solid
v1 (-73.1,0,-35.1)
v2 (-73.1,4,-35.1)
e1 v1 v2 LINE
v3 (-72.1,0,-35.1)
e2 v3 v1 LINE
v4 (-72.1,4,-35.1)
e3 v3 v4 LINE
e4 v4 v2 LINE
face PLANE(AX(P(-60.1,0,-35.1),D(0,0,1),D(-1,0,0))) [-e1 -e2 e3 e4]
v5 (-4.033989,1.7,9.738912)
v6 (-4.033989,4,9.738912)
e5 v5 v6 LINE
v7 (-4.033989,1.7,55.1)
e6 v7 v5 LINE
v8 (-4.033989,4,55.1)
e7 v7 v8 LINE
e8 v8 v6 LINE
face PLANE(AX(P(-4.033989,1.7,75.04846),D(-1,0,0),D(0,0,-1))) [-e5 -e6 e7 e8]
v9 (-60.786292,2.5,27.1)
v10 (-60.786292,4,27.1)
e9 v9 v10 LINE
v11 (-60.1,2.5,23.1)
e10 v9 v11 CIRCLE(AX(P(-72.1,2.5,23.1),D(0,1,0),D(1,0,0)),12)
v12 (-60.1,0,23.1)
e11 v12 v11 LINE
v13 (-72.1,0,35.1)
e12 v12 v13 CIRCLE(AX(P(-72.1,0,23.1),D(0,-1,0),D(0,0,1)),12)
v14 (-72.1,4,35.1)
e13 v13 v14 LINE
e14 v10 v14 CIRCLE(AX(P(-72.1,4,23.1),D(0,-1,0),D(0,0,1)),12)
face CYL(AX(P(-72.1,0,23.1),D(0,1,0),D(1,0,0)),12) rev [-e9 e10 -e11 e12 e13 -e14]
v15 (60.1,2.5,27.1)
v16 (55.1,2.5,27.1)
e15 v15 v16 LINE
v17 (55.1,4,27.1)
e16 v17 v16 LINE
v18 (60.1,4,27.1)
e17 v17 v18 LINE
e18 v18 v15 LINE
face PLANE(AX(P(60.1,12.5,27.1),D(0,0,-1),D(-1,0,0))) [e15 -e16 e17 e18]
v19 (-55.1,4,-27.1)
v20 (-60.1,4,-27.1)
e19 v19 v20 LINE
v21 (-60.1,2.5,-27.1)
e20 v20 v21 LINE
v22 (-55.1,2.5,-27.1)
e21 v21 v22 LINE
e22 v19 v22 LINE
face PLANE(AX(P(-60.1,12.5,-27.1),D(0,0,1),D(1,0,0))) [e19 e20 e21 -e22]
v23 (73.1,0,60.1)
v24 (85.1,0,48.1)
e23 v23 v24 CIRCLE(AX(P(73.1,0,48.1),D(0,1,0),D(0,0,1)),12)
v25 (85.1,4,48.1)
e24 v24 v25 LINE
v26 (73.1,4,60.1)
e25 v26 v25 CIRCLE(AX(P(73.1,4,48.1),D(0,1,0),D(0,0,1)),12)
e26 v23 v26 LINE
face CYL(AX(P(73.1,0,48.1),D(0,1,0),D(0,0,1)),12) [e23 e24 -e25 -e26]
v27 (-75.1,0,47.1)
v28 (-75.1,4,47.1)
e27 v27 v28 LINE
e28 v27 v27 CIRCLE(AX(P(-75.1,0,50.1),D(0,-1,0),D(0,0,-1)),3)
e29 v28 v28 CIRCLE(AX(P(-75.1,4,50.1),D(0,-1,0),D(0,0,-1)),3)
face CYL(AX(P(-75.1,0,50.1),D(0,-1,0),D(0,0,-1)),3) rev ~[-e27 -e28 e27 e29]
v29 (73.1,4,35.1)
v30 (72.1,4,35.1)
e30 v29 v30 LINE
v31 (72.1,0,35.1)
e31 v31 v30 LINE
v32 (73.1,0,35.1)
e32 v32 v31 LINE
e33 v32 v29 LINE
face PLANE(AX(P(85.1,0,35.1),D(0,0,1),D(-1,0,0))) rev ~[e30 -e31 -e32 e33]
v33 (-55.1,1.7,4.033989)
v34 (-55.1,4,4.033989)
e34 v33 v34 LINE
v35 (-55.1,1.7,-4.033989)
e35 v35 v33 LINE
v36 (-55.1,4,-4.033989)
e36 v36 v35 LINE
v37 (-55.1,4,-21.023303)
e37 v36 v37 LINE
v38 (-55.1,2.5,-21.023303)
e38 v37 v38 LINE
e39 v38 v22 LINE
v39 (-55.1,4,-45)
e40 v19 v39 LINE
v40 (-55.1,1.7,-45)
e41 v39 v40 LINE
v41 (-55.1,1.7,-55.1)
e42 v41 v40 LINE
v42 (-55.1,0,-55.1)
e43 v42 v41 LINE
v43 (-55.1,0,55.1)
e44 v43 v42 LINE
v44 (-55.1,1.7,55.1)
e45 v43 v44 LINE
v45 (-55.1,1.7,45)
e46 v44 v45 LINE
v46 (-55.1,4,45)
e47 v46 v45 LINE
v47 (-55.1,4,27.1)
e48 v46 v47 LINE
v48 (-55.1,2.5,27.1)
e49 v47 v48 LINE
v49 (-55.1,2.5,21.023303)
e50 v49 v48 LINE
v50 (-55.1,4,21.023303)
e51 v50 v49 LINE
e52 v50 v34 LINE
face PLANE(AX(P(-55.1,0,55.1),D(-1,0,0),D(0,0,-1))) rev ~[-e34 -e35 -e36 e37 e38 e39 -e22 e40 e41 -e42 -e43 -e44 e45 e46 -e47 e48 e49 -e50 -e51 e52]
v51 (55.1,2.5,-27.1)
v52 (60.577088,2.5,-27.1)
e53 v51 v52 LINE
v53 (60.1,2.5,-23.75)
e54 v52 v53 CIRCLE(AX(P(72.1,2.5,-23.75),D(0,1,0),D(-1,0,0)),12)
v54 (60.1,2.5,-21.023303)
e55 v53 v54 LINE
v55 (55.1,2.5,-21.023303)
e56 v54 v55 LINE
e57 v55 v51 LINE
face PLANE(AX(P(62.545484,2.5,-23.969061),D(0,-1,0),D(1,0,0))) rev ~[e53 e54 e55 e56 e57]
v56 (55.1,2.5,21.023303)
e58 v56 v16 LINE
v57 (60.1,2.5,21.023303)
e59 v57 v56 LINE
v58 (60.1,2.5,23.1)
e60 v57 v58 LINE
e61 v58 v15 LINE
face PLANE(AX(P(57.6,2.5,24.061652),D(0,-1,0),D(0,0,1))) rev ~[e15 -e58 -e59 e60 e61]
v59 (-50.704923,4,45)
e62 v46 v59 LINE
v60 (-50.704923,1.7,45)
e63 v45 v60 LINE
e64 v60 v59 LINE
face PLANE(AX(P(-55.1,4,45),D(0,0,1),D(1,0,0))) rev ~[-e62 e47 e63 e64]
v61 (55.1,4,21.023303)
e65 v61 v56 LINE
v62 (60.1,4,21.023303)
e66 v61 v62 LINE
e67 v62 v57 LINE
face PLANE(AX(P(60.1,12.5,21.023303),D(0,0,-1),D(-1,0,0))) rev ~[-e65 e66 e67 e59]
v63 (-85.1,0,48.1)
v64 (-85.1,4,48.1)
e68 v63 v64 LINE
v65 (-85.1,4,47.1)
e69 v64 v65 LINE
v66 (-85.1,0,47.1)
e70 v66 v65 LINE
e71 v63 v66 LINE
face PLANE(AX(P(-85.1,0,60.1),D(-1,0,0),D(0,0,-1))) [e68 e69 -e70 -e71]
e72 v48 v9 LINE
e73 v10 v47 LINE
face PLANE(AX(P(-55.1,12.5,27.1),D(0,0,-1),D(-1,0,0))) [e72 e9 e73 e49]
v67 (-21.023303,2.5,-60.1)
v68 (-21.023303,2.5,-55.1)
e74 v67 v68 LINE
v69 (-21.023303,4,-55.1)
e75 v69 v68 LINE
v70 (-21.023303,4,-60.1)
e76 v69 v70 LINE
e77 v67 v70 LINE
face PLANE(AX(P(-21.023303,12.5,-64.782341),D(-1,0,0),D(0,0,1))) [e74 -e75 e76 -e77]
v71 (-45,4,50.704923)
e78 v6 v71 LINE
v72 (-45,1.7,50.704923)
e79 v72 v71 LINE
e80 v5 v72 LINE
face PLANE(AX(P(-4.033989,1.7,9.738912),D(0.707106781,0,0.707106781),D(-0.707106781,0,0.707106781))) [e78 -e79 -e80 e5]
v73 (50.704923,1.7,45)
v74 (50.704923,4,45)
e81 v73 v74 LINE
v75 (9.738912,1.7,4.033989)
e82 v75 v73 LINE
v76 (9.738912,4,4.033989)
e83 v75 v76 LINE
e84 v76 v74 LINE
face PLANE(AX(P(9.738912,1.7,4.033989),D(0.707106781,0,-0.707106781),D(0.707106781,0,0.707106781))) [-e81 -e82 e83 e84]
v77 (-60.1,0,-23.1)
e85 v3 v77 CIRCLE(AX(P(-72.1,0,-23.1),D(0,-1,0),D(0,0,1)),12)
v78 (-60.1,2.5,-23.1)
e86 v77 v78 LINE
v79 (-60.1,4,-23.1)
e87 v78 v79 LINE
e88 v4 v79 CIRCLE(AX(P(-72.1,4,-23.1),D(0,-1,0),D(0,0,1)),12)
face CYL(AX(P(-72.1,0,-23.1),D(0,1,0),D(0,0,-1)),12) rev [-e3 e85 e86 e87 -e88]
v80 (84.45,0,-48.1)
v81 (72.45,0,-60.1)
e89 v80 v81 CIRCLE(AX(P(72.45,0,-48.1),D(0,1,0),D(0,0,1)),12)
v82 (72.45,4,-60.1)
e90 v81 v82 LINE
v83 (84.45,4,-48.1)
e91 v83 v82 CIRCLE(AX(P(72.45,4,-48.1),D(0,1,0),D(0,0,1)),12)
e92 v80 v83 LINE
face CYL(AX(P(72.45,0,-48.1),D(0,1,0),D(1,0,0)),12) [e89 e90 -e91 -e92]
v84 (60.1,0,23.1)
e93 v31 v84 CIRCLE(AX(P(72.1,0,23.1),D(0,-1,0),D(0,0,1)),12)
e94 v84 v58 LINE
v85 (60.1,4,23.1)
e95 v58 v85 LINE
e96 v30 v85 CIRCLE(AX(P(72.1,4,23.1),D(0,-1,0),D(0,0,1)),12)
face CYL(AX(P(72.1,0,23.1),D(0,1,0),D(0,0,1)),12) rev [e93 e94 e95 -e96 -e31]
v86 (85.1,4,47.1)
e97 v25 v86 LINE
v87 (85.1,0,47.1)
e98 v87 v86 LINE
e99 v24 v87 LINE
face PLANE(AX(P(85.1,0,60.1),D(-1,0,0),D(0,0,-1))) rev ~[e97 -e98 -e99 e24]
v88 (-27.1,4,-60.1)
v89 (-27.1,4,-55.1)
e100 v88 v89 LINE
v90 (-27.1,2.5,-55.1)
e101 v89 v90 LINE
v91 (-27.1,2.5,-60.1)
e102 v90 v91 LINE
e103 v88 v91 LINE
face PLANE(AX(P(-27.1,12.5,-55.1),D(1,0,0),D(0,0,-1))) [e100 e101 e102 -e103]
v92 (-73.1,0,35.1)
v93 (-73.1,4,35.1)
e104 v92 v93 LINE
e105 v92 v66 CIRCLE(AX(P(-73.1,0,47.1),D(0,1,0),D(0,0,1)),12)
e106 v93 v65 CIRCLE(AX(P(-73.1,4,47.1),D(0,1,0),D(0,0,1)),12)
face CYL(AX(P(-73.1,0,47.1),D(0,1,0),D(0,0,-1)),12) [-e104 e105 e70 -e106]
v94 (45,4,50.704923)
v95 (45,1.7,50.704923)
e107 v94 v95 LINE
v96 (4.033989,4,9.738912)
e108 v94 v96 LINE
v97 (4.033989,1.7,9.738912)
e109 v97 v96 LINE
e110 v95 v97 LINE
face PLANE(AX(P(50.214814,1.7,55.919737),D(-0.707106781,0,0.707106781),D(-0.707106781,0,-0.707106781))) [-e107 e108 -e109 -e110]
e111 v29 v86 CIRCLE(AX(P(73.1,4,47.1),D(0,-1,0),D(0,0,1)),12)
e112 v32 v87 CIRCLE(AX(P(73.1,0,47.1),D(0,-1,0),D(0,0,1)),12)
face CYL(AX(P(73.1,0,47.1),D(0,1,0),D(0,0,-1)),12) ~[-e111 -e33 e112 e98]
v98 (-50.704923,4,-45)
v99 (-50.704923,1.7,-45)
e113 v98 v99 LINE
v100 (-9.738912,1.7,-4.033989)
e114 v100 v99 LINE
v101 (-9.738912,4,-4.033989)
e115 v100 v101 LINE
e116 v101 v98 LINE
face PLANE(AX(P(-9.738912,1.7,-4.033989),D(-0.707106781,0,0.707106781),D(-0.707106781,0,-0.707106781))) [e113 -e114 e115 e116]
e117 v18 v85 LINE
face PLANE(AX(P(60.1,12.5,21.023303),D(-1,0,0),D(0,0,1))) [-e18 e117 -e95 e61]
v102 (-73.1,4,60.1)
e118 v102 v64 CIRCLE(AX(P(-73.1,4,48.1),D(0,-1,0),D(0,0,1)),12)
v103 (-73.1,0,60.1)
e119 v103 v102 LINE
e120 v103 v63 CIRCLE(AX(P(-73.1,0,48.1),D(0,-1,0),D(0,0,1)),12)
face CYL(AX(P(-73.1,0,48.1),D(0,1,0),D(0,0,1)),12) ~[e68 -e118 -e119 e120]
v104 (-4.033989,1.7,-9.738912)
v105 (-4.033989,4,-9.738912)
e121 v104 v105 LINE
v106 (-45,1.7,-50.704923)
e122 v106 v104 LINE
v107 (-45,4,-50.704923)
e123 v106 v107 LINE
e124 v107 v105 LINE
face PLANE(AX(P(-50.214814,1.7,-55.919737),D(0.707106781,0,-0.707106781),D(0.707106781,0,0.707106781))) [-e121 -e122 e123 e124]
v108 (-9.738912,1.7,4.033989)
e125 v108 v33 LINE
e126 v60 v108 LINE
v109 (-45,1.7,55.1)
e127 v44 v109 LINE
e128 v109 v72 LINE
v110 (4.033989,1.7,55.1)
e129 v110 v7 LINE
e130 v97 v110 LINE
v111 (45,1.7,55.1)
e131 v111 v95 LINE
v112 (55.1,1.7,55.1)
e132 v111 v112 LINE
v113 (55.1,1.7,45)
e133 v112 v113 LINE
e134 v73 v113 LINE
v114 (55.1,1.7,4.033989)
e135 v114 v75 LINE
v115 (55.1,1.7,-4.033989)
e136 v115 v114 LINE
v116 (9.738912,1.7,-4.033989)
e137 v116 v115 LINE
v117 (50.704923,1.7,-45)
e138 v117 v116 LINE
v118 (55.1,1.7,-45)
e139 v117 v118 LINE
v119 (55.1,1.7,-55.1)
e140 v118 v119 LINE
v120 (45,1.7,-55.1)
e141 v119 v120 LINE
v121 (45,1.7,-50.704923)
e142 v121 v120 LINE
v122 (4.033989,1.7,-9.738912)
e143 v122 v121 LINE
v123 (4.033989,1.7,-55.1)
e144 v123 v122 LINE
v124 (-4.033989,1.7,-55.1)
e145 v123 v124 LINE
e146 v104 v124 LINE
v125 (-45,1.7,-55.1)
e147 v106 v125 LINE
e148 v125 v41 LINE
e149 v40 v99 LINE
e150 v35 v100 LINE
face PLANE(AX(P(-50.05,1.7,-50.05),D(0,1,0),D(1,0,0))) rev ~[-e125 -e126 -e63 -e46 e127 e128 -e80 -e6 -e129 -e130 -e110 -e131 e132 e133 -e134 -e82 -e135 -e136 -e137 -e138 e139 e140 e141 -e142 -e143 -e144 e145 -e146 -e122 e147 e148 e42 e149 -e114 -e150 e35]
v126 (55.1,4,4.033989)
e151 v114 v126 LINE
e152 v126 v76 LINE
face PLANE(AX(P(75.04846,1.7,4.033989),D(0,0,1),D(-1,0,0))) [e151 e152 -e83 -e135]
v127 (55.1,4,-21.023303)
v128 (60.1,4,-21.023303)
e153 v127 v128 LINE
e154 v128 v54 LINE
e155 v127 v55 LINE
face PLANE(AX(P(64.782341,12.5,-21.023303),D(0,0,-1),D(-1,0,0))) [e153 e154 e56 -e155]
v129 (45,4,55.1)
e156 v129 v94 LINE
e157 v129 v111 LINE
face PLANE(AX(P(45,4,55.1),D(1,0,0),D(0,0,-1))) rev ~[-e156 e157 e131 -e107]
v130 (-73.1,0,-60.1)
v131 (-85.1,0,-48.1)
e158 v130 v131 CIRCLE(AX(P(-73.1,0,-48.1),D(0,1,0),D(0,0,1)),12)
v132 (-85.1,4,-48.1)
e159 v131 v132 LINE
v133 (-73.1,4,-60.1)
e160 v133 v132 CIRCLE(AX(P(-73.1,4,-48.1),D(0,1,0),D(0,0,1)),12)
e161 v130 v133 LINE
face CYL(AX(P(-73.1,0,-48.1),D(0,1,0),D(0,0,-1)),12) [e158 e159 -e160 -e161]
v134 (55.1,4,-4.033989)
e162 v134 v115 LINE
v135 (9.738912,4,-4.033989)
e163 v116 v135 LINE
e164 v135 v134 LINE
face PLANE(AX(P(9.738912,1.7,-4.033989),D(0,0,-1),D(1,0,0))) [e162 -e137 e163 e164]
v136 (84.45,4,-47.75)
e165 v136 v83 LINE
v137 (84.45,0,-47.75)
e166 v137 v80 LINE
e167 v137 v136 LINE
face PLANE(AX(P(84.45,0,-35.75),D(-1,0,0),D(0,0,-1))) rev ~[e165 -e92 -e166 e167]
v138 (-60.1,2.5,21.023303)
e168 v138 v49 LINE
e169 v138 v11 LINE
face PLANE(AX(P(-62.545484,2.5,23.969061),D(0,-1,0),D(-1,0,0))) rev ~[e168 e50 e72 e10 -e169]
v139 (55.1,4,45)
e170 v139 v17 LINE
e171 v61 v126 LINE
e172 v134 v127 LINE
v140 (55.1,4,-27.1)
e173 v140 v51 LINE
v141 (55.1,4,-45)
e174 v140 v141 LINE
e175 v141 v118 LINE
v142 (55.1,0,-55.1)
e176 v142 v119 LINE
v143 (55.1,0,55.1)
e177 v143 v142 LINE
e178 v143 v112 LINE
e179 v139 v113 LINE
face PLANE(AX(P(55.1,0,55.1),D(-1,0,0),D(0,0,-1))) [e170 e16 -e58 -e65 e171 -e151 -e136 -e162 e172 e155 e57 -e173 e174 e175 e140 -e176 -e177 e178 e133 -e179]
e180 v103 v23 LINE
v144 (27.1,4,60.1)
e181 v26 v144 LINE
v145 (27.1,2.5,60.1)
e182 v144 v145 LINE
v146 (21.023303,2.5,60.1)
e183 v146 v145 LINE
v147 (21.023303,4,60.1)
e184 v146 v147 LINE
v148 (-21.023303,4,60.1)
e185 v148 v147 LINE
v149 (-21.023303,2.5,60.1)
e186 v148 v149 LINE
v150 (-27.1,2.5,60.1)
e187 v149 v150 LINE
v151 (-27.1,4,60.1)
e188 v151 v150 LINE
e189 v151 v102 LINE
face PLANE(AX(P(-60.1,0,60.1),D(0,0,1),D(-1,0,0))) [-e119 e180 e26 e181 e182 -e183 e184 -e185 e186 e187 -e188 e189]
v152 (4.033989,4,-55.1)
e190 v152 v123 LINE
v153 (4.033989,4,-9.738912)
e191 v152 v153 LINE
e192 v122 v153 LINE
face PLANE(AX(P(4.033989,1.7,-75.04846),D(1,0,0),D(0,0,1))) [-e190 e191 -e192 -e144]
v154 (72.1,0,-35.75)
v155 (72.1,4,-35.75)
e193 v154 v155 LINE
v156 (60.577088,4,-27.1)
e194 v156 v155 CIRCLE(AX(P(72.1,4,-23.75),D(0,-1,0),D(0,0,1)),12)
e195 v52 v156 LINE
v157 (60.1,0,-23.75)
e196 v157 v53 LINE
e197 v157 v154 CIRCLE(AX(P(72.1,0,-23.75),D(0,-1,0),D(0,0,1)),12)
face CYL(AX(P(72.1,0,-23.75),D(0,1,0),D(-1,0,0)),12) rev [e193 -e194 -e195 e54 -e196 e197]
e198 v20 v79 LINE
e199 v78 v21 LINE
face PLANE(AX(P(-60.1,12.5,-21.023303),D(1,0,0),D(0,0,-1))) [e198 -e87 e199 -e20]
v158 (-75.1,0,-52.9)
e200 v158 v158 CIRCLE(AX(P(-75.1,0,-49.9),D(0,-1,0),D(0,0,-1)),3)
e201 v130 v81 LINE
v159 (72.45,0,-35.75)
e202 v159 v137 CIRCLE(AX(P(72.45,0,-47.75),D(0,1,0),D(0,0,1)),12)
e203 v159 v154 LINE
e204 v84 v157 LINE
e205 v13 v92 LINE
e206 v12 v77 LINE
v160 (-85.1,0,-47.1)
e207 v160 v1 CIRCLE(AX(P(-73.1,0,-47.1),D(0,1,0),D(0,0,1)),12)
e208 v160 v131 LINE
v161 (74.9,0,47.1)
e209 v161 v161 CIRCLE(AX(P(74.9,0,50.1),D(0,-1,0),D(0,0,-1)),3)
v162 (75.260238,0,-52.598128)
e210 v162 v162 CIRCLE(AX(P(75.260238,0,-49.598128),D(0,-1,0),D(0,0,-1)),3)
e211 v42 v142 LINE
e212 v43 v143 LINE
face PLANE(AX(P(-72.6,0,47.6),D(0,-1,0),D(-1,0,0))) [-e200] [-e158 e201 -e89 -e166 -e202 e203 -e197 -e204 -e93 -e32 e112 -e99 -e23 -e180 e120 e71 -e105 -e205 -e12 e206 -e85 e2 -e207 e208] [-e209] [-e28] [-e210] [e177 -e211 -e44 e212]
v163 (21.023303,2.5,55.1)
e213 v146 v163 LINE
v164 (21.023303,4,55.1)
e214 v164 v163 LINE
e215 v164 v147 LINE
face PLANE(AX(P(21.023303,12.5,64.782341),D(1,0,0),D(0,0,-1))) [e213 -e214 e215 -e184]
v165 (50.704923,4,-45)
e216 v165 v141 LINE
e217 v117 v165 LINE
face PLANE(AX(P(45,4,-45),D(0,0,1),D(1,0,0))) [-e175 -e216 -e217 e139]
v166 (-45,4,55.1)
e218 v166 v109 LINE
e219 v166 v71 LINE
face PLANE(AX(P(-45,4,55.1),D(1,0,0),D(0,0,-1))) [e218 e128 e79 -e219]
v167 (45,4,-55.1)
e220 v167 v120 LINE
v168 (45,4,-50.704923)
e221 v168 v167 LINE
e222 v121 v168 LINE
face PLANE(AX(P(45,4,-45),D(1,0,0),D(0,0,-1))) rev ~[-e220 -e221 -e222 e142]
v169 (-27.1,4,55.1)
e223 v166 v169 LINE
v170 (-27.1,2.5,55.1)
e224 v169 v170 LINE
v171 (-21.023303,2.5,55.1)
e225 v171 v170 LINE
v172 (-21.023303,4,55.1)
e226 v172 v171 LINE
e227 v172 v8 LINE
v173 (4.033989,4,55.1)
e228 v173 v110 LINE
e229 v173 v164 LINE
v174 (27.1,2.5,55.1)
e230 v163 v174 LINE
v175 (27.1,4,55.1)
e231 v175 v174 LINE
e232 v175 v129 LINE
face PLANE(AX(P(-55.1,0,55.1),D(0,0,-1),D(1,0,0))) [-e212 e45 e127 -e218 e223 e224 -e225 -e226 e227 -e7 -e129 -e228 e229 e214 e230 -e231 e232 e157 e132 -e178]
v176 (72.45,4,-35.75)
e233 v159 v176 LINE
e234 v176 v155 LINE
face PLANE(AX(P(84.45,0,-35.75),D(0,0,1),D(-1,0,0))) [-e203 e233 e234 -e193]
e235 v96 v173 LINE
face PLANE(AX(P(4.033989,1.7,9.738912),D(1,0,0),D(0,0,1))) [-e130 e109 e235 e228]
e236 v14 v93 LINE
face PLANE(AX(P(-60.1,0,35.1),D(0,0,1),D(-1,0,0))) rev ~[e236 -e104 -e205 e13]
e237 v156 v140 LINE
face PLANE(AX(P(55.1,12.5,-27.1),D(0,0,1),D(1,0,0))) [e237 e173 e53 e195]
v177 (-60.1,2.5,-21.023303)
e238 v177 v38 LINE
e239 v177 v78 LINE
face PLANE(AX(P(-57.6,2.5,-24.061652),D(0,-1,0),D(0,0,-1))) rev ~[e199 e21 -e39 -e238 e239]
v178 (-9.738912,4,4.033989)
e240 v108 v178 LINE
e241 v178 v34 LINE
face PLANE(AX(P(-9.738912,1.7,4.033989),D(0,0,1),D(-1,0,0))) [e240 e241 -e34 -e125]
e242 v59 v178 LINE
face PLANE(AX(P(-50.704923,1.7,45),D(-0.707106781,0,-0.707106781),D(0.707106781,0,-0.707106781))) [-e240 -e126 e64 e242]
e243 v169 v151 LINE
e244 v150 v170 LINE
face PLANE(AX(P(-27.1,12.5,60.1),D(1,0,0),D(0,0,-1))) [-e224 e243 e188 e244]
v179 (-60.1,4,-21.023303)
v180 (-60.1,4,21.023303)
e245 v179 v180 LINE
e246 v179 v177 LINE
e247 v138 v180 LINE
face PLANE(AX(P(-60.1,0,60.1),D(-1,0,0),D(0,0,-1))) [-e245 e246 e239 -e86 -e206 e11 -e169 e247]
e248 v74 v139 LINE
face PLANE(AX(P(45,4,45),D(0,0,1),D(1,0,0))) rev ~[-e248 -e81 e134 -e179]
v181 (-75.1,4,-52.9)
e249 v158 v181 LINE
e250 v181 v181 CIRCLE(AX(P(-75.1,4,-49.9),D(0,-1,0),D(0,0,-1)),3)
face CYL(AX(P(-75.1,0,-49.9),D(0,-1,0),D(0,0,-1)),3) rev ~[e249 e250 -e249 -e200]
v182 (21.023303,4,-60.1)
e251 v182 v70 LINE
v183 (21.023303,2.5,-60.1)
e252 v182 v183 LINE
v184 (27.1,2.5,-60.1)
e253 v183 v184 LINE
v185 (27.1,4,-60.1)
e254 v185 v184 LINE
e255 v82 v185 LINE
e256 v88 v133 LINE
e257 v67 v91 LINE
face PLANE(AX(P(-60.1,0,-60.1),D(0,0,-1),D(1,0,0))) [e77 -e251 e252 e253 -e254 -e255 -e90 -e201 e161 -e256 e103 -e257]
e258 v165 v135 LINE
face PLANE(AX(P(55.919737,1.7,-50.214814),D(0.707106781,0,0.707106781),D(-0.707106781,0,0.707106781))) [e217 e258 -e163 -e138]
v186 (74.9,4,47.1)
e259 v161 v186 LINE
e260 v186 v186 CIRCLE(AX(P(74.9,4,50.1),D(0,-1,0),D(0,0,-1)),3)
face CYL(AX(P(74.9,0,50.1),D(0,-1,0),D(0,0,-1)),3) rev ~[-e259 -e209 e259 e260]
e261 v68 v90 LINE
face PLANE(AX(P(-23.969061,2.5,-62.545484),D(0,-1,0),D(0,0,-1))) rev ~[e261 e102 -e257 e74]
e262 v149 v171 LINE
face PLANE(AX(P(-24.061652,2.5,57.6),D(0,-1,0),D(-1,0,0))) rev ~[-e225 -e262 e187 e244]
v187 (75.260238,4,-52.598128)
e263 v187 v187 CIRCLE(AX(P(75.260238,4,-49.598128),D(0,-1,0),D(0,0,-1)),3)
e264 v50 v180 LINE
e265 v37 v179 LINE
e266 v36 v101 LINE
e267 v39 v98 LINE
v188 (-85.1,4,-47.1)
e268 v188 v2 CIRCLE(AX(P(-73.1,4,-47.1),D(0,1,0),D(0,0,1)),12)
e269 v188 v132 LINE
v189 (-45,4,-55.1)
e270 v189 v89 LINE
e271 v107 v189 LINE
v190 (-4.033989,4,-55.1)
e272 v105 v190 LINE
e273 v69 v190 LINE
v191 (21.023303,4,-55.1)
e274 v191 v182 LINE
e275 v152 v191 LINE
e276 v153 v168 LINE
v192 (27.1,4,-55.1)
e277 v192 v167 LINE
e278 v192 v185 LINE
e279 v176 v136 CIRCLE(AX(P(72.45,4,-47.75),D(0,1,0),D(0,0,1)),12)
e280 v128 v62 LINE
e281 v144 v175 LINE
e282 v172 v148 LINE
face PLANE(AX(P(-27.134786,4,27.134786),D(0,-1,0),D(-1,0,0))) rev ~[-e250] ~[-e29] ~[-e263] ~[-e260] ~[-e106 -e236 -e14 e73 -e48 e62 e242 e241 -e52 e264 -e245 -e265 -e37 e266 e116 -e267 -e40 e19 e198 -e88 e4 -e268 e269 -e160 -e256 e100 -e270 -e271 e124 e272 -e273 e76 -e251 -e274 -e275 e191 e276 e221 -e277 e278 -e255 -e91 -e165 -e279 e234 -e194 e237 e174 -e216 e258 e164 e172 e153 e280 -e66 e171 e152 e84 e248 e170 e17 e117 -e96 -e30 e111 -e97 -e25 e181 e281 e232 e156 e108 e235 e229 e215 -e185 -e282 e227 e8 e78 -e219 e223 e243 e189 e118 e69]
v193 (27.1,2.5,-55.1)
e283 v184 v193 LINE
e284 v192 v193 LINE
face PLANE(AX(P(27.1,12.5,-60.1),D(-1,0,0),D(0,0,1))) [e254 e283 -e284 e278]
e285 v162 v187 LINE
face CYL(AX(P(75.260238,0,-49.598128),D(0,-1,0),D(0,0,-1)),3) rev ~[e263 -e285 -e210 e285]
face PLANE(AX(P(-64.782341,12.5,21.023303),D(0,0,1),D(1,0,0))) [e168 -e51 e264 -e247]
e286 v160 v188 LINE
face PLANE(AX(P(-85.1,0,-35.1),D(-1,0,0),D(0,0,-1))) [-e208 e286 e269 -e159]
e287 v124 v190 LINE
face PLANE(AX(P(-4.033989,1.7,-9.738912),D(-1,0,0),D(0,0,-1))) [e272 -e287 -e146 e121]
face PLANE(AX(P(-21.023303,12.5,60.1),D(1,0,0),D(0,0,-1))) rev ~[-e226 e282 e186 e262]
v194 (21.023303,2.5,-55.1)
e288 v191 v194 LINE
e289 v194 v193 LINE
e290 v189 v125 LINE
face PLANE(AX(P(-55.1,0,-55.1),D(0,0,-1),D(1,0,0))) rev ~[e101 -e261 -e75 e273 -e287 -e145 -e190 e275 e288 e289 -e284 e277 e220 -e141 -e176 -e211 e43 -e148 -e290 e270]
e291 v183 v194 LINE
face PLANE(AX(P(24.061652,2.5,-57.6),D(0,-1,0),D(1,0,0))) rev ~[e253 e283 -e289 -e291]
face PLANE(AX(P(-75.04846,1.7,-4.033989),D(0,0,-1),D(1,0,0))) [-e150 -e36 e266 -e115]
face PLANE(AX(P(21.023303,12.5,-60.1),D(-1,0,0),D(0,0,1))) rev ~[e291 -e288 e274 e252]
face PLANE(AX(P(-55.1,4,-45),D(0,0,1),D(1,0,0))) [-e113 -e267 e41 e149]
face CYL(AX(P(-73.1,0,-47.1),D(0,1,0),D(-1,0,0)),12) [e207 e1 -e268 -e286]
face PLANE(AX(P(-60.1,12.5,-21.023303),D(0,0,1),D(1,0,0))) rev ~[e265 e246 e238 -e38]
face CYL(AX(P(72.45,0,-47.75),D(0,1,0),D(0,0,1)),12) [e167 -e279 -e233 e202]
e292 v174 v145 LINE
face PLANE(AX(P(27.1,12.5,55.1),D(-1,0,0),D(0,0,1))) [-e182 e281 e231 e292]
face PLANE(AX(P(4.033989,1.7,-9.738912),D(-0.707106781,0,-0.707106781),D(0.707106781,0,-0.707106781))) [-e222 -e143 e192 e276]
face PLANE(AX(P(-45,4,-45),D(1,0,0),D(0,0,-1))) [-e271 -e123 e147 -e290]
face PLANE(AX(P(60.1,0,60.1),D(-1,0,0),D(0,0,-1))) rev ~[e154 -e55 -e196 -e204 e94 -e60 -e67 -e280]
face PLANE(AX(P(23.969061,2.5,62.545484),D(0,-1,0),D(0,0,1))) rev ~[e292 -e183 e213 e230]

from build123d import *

# Parameters (mm, degrees)
SKETCH1_W           = 120.2
SKETCH1_H           = 120.2
SKETCH1_W_2         = 110.2
SKETCH1_H_2         = 110.2
BOSS_EXTRUDE1_DEPTH = 4
SKETCH2_W           = 10.1
SKETCH2_H           = 10.1
BOSS_EXTRUDE2_DEPTH = 2.3
SKETCH3_W           = 25
SKETCH3_H           = 25
SKETCH3_R           = 3
SKETCH3_W_2         = 24.35
SKETCH3_H_2         = 24.35
BOSS_EXTRUDE3_DEPTH = 4
FILLET1_R           = 12
SKETCH5_R           = 5.417288046
BOSS_EXTRUDE4_DEPTH = 10
CUT_EXTRUDE1_START  = -12.5
SKETCH4_W           = 6.076696642
SKETCH4_H           = 5
CUT_EXTRUDE1_DEPTH  = 10
CIRPATTERN1_COUNT   = 4
SKETCH6_R           = 22.094645404
CUT_EXTRUDE2_DEPTH  = 10
BOSS_EXTRUDE5_DEPTH = 2.3
SKETCH9_W           = 17.742485537
SKETCH9_H           = 24.263991122
SKETCH9_W_2         = 24.263991122
SKETCH9_H_2         = 17.742485537
CUT_EXTRUDE3_DEPTH  = 10


with BuildPart() as part:
    # Sketch1 → Boss-Extrude1 (new body)
    with BuildSketch(Plane(origin=(0, 0, 0), x_dir=(1, 0, 0), z_dir=(0, 1, 0))):
        Rectangle(SKETCH1_W, SKETCH1_H)
        Rectangle(SKETCH1_W_2, SKETCH1_H_2, mode=Mode.SUBTRACT)
    extrude(amount=BOSS_EXTRUDE1_DEPTH)

    # Sketch2 → Boss-Extrude2 (add)
    with BuildSketch(Plane(origin=(0, 4, 0), x_dir=(1, 0, 0), z_dir=(0, 1, 0))):
        with Locations((-50.05, 50.05)):
            Rectangle(SKETCH2_W, SKETCH2_H)
        with Locations((50.05, 50.05)):
            Rectangle(SKETCH2_W, SKETCH2_H)
        with Locations((50.05, -50.05)):
            Rectangle(SKETCH2_W, SKETCH2_H)
        with Locations((-50.05, -50.05)):
            Rectangle(SKETCH2_W, SKETCH2_H)
    extrude(amount=-BOSS_EXTRUDE2_DEPTH)

    # Sketch3 → Boss-Extrude3 (add)
    # profile 1 of 4: a face of its own
    with BuildSketch(Plane(origin=(0, 0, 0), x_dir=(-1, 0, 0), z_dir=(0, -1, 0))):
        with Locations((72.6, -47.6)):
            Rectangle(SKETCH3_W, SKETCH3_H)
        with Locations(Location((75.1, -50.1, 0), (0, 0, 90))):
            Circle(SKETCH3_R, mode=Mode.SUBTRACT)
    # profile 2 of 4: a face of its own
    with BuildSketch(Plane(origin=(0, 0, 0), x_dir=(-1, 0, 0), z_dir=(0, -1, 0))):
        with Locations((-72.6, -47.6)):
            Rectangle(SKETCH3_W, SKETCH3_H)
        with Locations(Location((-74.9, -50.1, 0), (0, 0, 90))):
            Circle(SKETCH3_R, mode=Mode.SUBTRACT)
    # profile 3 of 4: a face of its own
    with BuildSketch(Plane(origin=(0, 0, 0), x_dir=(-1, 0, 0), z_dir=(0, -1, 0))):
        with Locations((72.6, 47.6)):
            Rectangle(SKETCH3_W, SKETCH3_H)
        with Locations(Location((75.1, 49.9, 0), (0, 0, 90))):
            Circle(SKETCH3_R, mode=Mode.SUBTRACT)
    # profile 4 of 4: a face of its own
    with BuildSketch(Plane(origin=(0, 0, 0), x_dir=(-1, 0, 0), z_dir=(0, -1, 0))):
        with Locations((-72.275, 47.925)):
            Rectangle(SKETCH3_W_2, SKETCH3_H_2)
        with Locations(Location((-75.260238187, 49.598128293, 0), (0, 0, 90))):
            Circle(SKETCH3_R, mode=Mode.SUBTRACT)
    extrude(amount=-BOSS_EXTRUDE3_DEPTH)

    # Fillet1
    fillet1_edges = [part.edges().sort_by_distance(p)[0] for p in [
        (85.1, 2, 60.1),
        (85.1, 2, 35.1),
        (60.1, 2, 35.1),
        (84.45, 2, -60.1),
        (60.1, 2, -35.75),
        (84.45, 2, -35.75),
        (-60.1, 2, 35.1),
        (-85.1, 2, 35.1),
        (-85.1, 2, 60.1),
        (-60.1, 2, -35.1),
        (-85.1, 2, -60.1),
        (-85.1, 2, -35.1),
    ]]
    fillet(fillet1_edges, radius=FILLET1_R)

    # Sketch4 → Cut-Extrude1 (cut)
    with BuildSketch(Plane(origin=(0, 0, 0), x_dir=(-1, 0, 0), z_dir=(0, -1, 0)).offset(CUT_EXTRUDE1_START)):
        with BuildLine():
            Line((60.786291501, -27.1), (64.782340933, -27.1))
            Line((64.782340933, -27.1), (64.782340933, -21.023303358))
            Line((64.782340933, -21.023303358), (60.1, -21.023303358))
            Line((60.1, -21.023303358), (60.1, -23.1))
            ThreePointArc((60.1, -23.1), (60.272817284, -25.129223745), (60.786291501, -27.1))
        make_face()
        with BuildLine():
            Line((55.1, -27.1), (60.786291501, -27.1))
            ThreePointArc((60.786291501, -27.1), (60.272817284, -25.129223745), (60.1, -23.1))
            Line((60.1, -23.1), (60.1, -21.023303358))
            Line((60.1, -21.023303358), (55.1, -21.023303358))
            Line((55.1, -21.023303358), (55.1, -27.1))
        make_face()
        with Locations((24.061651679, -57.6)):
            Rectangle(SKETCH4_W, SKETCH4_H)
    cut_extrude1 = extrude(amount=CUT_EXTRUDE1_DEPTH, mode=Mode.SUBTRACT)

    # CirPattern1: Cut-Extrude1 ×4 about axis
    cirpattern1_axis = Axis((0, 0, 0), (0, 1, 0))
    for i in range(1, CIRPATTERN1_COUNT):
        add(cut_extrude1.rotate(cirpattern1_axis, i * 360 / CIRPATTERN1_COUNT), mode=Mode.SUBTRACT)

    # Sketch8 → Boss-Extrude5 (add)
    with BuildSketch(Plane(origin=(0, 1.7, 0), x_dir=(-1, 0, 0), z_dir=(0, -1, 0))):
        Polygon((50.704922644, -45), (9.738912133, -4.033989488), (4.033989488, -4.033989488), (4.033989488, -9.738912133), (45, -50.704922645), (45, -45), align=None)
        Polygon((4.033989488, -9.738912133), (0, -5.704922645), (-4.033989488, -9.738912133), (-4.033989488, -75.048460322), (4.033989488, -75.048460322), align=None)
        Polygon((-50.214813889, -55.919736534), (-4.033989488, -9.738912133), (-4.033989488, -4.033989488), (-9.738912133, -4.033989488), (-55.919736534, -50.214813889), align=None)
        Polygon((-9.738912133, -4.033989488), (-5.704922645, 0), (-9.738912133, 4.033989488), (-75.048460322, 4.033989488), (-75.048460322, -4.033989488), align=None)
        Polygon((-4.033989488, 4.033989488), (-4.033989488, 9.738912133), (-50.214813889, 55.919736534), (-55.919736534, 50.214813889), (-9.738912133, 4.033989488), align=None)
        Polygon((0, 5.704922645), (4.033989488, 9.738912133), (4.033989488, 75.048460322), (-4.033989488, 75.048460322), (-4.033989488, 9.738912133), align=None)
        Polygon((9.738912133, 4.033989488), (55.919736534, 50.214813889), (50.214813889, 55.919736534), (4.033989488, 9.738912133), (4.033989488, 4.033989488), align=None)
        Polygon((75.048460322, 4.033989488), (9.738912133, 4.033989488), (5.704922645, 0), (9.738912133, -4.033989488), (75.048460322, -4.033989488), align=None)
        Polygon((-4.033989488, -9.738912133), (0, -5.704922645), (-1.670933156, -4.033989488), (-4.033989488, -4.033989488), align=None)
        Polygon((4.033989488, -4.033989488), (1.670933156, -4.033989488), (0, -5.704922645), (4.033989488, -9.738912133), align=None)
        Polygon((9.738912133, -4.033989488), (5.704922645, 0), (4.033989488, -1.670933156), (4.033989488, -4.033989488), align=None)
        Polygon((5.704922645, 0), (9.738912133, 4.033989488), (4.033989488, 4.033989488), (4.033989488, 1.670933156), align=None)
        Polygon((1.670933156, 4.033989488), (4.033989488, 4.033989488), (4.033989488, 9.738912133), (0, 5.704922645), align=None)
        Polygon((-1.670933156, 4.033989488), (0, 5.704922645), (-4.033989488, 9.738912133), (-4.033989488, 4.033989488), align=None)
        Polygon((-5.704922645, 0), (-4.033989488, 1.670933156), (-4.033989488, 4.033989488), (-9.738912133, 4.033989488), align=None)
        Polygon((-9.738912133, -4.033989488), (-4.033989488, -4.033989488), (-4.033989488, -1.670933157), (-5.704922645, 0), align=None)
        Polygon((0, -5.704922645), (1.670933156, -4.033989488), (-1.670933156, -4.033989488), align=None)
        Polygon((4.033989488, -4.033989488), (4.033989488, -1.670933156), (1.670933156, -4.033989488), align=None)
        Polygon((4.033989488, -1.670933156), (5.704922645, 0), (4.033989488, 1.670933156), align=None)
        Polygon((4.033989488, 1.670933156), (4.033989488, 4.033989488), (1.670933156, 4.033989488), align=None)
        Polygon((-4.033989488, 1.670933156), (-1.670933156, 4.033989488), (-4.033989488, 4.033989488), align=None)
        Polygon((-4.033989488, -1.670933157), (-4.033989488, 1.670933156), (-5.704922645, 0), align=None)
        Polygon((-4.033989488, -4.033989488), (-1.670933156, -4.033989488), (-4.033989488, -1.670933157), align=None)
        Polygon((1.670933156, -4.033989488), (4.033989488, -1.670933156), (4.033989488, 1.670933156), (1.670933156, 4.033989488), (-1.670933156, 4.033989488), (-4.033989488, 1.670933156), (-4.033989488, -1.670933157), (-1.670933156, -4.033989488), align=None)
        Polygon((-1.670933156, 4.033989488), (1.670933156, 4.033989488), (0, 5.704922645), align=None)
    extrude(amount=-BOSS_EXTRUDE5_DEPTH)

    # Sketch9 → Cut-Extrude3 (cut)
    with BuildSketch(Plane(origin=(0, 1.7, 0), x_dir=(-1, 0, 0), z_dir=(0, -1, 0))):
        with Locations((1.428324636, -72.231995561)):
            Rectangle(SKETCH9_W, SKETCH9_H)
        with Locations((-72.231995561, -1.428324636)):
            Rectangle(SKETCH9_W_2, SKETCH9_H_2)
        with Locations((-1.428324636, 72.231995561)):
            Rectangle(SKETCH9_W, SKETCH9_H)
        with Locations((72.231995561, 1.428324636)):
            Rectangle(SKETCH9_W_2, SKETCH9_H_2)
    extrude(amount=-CUT_EXTRUDE3_DEPTH, mode=Mode.SUBTRACT)


with BuildPart() as body_2:
    # Sketch5 → Boss-Extrude4 (new body)
    with BuildSketch(Plane.XZ):
        with Locations(Location((0, 0, 0), (0, 0, 270))):
            Circle(SKETCH5_R)
    extrude(amount=BOSS_EXTRUDE4_DEPTH)

    # Sketch6 → Cut-Extrude2 (cut)
    with BuildSketch(Plane.XZ.offset(10)):
        Circle(SKETCH6_R)
    extrude(amount=-CUT_EXTRUDE2_DEPTH, mode=Mode.SUBTRACT)


solid = part.part
